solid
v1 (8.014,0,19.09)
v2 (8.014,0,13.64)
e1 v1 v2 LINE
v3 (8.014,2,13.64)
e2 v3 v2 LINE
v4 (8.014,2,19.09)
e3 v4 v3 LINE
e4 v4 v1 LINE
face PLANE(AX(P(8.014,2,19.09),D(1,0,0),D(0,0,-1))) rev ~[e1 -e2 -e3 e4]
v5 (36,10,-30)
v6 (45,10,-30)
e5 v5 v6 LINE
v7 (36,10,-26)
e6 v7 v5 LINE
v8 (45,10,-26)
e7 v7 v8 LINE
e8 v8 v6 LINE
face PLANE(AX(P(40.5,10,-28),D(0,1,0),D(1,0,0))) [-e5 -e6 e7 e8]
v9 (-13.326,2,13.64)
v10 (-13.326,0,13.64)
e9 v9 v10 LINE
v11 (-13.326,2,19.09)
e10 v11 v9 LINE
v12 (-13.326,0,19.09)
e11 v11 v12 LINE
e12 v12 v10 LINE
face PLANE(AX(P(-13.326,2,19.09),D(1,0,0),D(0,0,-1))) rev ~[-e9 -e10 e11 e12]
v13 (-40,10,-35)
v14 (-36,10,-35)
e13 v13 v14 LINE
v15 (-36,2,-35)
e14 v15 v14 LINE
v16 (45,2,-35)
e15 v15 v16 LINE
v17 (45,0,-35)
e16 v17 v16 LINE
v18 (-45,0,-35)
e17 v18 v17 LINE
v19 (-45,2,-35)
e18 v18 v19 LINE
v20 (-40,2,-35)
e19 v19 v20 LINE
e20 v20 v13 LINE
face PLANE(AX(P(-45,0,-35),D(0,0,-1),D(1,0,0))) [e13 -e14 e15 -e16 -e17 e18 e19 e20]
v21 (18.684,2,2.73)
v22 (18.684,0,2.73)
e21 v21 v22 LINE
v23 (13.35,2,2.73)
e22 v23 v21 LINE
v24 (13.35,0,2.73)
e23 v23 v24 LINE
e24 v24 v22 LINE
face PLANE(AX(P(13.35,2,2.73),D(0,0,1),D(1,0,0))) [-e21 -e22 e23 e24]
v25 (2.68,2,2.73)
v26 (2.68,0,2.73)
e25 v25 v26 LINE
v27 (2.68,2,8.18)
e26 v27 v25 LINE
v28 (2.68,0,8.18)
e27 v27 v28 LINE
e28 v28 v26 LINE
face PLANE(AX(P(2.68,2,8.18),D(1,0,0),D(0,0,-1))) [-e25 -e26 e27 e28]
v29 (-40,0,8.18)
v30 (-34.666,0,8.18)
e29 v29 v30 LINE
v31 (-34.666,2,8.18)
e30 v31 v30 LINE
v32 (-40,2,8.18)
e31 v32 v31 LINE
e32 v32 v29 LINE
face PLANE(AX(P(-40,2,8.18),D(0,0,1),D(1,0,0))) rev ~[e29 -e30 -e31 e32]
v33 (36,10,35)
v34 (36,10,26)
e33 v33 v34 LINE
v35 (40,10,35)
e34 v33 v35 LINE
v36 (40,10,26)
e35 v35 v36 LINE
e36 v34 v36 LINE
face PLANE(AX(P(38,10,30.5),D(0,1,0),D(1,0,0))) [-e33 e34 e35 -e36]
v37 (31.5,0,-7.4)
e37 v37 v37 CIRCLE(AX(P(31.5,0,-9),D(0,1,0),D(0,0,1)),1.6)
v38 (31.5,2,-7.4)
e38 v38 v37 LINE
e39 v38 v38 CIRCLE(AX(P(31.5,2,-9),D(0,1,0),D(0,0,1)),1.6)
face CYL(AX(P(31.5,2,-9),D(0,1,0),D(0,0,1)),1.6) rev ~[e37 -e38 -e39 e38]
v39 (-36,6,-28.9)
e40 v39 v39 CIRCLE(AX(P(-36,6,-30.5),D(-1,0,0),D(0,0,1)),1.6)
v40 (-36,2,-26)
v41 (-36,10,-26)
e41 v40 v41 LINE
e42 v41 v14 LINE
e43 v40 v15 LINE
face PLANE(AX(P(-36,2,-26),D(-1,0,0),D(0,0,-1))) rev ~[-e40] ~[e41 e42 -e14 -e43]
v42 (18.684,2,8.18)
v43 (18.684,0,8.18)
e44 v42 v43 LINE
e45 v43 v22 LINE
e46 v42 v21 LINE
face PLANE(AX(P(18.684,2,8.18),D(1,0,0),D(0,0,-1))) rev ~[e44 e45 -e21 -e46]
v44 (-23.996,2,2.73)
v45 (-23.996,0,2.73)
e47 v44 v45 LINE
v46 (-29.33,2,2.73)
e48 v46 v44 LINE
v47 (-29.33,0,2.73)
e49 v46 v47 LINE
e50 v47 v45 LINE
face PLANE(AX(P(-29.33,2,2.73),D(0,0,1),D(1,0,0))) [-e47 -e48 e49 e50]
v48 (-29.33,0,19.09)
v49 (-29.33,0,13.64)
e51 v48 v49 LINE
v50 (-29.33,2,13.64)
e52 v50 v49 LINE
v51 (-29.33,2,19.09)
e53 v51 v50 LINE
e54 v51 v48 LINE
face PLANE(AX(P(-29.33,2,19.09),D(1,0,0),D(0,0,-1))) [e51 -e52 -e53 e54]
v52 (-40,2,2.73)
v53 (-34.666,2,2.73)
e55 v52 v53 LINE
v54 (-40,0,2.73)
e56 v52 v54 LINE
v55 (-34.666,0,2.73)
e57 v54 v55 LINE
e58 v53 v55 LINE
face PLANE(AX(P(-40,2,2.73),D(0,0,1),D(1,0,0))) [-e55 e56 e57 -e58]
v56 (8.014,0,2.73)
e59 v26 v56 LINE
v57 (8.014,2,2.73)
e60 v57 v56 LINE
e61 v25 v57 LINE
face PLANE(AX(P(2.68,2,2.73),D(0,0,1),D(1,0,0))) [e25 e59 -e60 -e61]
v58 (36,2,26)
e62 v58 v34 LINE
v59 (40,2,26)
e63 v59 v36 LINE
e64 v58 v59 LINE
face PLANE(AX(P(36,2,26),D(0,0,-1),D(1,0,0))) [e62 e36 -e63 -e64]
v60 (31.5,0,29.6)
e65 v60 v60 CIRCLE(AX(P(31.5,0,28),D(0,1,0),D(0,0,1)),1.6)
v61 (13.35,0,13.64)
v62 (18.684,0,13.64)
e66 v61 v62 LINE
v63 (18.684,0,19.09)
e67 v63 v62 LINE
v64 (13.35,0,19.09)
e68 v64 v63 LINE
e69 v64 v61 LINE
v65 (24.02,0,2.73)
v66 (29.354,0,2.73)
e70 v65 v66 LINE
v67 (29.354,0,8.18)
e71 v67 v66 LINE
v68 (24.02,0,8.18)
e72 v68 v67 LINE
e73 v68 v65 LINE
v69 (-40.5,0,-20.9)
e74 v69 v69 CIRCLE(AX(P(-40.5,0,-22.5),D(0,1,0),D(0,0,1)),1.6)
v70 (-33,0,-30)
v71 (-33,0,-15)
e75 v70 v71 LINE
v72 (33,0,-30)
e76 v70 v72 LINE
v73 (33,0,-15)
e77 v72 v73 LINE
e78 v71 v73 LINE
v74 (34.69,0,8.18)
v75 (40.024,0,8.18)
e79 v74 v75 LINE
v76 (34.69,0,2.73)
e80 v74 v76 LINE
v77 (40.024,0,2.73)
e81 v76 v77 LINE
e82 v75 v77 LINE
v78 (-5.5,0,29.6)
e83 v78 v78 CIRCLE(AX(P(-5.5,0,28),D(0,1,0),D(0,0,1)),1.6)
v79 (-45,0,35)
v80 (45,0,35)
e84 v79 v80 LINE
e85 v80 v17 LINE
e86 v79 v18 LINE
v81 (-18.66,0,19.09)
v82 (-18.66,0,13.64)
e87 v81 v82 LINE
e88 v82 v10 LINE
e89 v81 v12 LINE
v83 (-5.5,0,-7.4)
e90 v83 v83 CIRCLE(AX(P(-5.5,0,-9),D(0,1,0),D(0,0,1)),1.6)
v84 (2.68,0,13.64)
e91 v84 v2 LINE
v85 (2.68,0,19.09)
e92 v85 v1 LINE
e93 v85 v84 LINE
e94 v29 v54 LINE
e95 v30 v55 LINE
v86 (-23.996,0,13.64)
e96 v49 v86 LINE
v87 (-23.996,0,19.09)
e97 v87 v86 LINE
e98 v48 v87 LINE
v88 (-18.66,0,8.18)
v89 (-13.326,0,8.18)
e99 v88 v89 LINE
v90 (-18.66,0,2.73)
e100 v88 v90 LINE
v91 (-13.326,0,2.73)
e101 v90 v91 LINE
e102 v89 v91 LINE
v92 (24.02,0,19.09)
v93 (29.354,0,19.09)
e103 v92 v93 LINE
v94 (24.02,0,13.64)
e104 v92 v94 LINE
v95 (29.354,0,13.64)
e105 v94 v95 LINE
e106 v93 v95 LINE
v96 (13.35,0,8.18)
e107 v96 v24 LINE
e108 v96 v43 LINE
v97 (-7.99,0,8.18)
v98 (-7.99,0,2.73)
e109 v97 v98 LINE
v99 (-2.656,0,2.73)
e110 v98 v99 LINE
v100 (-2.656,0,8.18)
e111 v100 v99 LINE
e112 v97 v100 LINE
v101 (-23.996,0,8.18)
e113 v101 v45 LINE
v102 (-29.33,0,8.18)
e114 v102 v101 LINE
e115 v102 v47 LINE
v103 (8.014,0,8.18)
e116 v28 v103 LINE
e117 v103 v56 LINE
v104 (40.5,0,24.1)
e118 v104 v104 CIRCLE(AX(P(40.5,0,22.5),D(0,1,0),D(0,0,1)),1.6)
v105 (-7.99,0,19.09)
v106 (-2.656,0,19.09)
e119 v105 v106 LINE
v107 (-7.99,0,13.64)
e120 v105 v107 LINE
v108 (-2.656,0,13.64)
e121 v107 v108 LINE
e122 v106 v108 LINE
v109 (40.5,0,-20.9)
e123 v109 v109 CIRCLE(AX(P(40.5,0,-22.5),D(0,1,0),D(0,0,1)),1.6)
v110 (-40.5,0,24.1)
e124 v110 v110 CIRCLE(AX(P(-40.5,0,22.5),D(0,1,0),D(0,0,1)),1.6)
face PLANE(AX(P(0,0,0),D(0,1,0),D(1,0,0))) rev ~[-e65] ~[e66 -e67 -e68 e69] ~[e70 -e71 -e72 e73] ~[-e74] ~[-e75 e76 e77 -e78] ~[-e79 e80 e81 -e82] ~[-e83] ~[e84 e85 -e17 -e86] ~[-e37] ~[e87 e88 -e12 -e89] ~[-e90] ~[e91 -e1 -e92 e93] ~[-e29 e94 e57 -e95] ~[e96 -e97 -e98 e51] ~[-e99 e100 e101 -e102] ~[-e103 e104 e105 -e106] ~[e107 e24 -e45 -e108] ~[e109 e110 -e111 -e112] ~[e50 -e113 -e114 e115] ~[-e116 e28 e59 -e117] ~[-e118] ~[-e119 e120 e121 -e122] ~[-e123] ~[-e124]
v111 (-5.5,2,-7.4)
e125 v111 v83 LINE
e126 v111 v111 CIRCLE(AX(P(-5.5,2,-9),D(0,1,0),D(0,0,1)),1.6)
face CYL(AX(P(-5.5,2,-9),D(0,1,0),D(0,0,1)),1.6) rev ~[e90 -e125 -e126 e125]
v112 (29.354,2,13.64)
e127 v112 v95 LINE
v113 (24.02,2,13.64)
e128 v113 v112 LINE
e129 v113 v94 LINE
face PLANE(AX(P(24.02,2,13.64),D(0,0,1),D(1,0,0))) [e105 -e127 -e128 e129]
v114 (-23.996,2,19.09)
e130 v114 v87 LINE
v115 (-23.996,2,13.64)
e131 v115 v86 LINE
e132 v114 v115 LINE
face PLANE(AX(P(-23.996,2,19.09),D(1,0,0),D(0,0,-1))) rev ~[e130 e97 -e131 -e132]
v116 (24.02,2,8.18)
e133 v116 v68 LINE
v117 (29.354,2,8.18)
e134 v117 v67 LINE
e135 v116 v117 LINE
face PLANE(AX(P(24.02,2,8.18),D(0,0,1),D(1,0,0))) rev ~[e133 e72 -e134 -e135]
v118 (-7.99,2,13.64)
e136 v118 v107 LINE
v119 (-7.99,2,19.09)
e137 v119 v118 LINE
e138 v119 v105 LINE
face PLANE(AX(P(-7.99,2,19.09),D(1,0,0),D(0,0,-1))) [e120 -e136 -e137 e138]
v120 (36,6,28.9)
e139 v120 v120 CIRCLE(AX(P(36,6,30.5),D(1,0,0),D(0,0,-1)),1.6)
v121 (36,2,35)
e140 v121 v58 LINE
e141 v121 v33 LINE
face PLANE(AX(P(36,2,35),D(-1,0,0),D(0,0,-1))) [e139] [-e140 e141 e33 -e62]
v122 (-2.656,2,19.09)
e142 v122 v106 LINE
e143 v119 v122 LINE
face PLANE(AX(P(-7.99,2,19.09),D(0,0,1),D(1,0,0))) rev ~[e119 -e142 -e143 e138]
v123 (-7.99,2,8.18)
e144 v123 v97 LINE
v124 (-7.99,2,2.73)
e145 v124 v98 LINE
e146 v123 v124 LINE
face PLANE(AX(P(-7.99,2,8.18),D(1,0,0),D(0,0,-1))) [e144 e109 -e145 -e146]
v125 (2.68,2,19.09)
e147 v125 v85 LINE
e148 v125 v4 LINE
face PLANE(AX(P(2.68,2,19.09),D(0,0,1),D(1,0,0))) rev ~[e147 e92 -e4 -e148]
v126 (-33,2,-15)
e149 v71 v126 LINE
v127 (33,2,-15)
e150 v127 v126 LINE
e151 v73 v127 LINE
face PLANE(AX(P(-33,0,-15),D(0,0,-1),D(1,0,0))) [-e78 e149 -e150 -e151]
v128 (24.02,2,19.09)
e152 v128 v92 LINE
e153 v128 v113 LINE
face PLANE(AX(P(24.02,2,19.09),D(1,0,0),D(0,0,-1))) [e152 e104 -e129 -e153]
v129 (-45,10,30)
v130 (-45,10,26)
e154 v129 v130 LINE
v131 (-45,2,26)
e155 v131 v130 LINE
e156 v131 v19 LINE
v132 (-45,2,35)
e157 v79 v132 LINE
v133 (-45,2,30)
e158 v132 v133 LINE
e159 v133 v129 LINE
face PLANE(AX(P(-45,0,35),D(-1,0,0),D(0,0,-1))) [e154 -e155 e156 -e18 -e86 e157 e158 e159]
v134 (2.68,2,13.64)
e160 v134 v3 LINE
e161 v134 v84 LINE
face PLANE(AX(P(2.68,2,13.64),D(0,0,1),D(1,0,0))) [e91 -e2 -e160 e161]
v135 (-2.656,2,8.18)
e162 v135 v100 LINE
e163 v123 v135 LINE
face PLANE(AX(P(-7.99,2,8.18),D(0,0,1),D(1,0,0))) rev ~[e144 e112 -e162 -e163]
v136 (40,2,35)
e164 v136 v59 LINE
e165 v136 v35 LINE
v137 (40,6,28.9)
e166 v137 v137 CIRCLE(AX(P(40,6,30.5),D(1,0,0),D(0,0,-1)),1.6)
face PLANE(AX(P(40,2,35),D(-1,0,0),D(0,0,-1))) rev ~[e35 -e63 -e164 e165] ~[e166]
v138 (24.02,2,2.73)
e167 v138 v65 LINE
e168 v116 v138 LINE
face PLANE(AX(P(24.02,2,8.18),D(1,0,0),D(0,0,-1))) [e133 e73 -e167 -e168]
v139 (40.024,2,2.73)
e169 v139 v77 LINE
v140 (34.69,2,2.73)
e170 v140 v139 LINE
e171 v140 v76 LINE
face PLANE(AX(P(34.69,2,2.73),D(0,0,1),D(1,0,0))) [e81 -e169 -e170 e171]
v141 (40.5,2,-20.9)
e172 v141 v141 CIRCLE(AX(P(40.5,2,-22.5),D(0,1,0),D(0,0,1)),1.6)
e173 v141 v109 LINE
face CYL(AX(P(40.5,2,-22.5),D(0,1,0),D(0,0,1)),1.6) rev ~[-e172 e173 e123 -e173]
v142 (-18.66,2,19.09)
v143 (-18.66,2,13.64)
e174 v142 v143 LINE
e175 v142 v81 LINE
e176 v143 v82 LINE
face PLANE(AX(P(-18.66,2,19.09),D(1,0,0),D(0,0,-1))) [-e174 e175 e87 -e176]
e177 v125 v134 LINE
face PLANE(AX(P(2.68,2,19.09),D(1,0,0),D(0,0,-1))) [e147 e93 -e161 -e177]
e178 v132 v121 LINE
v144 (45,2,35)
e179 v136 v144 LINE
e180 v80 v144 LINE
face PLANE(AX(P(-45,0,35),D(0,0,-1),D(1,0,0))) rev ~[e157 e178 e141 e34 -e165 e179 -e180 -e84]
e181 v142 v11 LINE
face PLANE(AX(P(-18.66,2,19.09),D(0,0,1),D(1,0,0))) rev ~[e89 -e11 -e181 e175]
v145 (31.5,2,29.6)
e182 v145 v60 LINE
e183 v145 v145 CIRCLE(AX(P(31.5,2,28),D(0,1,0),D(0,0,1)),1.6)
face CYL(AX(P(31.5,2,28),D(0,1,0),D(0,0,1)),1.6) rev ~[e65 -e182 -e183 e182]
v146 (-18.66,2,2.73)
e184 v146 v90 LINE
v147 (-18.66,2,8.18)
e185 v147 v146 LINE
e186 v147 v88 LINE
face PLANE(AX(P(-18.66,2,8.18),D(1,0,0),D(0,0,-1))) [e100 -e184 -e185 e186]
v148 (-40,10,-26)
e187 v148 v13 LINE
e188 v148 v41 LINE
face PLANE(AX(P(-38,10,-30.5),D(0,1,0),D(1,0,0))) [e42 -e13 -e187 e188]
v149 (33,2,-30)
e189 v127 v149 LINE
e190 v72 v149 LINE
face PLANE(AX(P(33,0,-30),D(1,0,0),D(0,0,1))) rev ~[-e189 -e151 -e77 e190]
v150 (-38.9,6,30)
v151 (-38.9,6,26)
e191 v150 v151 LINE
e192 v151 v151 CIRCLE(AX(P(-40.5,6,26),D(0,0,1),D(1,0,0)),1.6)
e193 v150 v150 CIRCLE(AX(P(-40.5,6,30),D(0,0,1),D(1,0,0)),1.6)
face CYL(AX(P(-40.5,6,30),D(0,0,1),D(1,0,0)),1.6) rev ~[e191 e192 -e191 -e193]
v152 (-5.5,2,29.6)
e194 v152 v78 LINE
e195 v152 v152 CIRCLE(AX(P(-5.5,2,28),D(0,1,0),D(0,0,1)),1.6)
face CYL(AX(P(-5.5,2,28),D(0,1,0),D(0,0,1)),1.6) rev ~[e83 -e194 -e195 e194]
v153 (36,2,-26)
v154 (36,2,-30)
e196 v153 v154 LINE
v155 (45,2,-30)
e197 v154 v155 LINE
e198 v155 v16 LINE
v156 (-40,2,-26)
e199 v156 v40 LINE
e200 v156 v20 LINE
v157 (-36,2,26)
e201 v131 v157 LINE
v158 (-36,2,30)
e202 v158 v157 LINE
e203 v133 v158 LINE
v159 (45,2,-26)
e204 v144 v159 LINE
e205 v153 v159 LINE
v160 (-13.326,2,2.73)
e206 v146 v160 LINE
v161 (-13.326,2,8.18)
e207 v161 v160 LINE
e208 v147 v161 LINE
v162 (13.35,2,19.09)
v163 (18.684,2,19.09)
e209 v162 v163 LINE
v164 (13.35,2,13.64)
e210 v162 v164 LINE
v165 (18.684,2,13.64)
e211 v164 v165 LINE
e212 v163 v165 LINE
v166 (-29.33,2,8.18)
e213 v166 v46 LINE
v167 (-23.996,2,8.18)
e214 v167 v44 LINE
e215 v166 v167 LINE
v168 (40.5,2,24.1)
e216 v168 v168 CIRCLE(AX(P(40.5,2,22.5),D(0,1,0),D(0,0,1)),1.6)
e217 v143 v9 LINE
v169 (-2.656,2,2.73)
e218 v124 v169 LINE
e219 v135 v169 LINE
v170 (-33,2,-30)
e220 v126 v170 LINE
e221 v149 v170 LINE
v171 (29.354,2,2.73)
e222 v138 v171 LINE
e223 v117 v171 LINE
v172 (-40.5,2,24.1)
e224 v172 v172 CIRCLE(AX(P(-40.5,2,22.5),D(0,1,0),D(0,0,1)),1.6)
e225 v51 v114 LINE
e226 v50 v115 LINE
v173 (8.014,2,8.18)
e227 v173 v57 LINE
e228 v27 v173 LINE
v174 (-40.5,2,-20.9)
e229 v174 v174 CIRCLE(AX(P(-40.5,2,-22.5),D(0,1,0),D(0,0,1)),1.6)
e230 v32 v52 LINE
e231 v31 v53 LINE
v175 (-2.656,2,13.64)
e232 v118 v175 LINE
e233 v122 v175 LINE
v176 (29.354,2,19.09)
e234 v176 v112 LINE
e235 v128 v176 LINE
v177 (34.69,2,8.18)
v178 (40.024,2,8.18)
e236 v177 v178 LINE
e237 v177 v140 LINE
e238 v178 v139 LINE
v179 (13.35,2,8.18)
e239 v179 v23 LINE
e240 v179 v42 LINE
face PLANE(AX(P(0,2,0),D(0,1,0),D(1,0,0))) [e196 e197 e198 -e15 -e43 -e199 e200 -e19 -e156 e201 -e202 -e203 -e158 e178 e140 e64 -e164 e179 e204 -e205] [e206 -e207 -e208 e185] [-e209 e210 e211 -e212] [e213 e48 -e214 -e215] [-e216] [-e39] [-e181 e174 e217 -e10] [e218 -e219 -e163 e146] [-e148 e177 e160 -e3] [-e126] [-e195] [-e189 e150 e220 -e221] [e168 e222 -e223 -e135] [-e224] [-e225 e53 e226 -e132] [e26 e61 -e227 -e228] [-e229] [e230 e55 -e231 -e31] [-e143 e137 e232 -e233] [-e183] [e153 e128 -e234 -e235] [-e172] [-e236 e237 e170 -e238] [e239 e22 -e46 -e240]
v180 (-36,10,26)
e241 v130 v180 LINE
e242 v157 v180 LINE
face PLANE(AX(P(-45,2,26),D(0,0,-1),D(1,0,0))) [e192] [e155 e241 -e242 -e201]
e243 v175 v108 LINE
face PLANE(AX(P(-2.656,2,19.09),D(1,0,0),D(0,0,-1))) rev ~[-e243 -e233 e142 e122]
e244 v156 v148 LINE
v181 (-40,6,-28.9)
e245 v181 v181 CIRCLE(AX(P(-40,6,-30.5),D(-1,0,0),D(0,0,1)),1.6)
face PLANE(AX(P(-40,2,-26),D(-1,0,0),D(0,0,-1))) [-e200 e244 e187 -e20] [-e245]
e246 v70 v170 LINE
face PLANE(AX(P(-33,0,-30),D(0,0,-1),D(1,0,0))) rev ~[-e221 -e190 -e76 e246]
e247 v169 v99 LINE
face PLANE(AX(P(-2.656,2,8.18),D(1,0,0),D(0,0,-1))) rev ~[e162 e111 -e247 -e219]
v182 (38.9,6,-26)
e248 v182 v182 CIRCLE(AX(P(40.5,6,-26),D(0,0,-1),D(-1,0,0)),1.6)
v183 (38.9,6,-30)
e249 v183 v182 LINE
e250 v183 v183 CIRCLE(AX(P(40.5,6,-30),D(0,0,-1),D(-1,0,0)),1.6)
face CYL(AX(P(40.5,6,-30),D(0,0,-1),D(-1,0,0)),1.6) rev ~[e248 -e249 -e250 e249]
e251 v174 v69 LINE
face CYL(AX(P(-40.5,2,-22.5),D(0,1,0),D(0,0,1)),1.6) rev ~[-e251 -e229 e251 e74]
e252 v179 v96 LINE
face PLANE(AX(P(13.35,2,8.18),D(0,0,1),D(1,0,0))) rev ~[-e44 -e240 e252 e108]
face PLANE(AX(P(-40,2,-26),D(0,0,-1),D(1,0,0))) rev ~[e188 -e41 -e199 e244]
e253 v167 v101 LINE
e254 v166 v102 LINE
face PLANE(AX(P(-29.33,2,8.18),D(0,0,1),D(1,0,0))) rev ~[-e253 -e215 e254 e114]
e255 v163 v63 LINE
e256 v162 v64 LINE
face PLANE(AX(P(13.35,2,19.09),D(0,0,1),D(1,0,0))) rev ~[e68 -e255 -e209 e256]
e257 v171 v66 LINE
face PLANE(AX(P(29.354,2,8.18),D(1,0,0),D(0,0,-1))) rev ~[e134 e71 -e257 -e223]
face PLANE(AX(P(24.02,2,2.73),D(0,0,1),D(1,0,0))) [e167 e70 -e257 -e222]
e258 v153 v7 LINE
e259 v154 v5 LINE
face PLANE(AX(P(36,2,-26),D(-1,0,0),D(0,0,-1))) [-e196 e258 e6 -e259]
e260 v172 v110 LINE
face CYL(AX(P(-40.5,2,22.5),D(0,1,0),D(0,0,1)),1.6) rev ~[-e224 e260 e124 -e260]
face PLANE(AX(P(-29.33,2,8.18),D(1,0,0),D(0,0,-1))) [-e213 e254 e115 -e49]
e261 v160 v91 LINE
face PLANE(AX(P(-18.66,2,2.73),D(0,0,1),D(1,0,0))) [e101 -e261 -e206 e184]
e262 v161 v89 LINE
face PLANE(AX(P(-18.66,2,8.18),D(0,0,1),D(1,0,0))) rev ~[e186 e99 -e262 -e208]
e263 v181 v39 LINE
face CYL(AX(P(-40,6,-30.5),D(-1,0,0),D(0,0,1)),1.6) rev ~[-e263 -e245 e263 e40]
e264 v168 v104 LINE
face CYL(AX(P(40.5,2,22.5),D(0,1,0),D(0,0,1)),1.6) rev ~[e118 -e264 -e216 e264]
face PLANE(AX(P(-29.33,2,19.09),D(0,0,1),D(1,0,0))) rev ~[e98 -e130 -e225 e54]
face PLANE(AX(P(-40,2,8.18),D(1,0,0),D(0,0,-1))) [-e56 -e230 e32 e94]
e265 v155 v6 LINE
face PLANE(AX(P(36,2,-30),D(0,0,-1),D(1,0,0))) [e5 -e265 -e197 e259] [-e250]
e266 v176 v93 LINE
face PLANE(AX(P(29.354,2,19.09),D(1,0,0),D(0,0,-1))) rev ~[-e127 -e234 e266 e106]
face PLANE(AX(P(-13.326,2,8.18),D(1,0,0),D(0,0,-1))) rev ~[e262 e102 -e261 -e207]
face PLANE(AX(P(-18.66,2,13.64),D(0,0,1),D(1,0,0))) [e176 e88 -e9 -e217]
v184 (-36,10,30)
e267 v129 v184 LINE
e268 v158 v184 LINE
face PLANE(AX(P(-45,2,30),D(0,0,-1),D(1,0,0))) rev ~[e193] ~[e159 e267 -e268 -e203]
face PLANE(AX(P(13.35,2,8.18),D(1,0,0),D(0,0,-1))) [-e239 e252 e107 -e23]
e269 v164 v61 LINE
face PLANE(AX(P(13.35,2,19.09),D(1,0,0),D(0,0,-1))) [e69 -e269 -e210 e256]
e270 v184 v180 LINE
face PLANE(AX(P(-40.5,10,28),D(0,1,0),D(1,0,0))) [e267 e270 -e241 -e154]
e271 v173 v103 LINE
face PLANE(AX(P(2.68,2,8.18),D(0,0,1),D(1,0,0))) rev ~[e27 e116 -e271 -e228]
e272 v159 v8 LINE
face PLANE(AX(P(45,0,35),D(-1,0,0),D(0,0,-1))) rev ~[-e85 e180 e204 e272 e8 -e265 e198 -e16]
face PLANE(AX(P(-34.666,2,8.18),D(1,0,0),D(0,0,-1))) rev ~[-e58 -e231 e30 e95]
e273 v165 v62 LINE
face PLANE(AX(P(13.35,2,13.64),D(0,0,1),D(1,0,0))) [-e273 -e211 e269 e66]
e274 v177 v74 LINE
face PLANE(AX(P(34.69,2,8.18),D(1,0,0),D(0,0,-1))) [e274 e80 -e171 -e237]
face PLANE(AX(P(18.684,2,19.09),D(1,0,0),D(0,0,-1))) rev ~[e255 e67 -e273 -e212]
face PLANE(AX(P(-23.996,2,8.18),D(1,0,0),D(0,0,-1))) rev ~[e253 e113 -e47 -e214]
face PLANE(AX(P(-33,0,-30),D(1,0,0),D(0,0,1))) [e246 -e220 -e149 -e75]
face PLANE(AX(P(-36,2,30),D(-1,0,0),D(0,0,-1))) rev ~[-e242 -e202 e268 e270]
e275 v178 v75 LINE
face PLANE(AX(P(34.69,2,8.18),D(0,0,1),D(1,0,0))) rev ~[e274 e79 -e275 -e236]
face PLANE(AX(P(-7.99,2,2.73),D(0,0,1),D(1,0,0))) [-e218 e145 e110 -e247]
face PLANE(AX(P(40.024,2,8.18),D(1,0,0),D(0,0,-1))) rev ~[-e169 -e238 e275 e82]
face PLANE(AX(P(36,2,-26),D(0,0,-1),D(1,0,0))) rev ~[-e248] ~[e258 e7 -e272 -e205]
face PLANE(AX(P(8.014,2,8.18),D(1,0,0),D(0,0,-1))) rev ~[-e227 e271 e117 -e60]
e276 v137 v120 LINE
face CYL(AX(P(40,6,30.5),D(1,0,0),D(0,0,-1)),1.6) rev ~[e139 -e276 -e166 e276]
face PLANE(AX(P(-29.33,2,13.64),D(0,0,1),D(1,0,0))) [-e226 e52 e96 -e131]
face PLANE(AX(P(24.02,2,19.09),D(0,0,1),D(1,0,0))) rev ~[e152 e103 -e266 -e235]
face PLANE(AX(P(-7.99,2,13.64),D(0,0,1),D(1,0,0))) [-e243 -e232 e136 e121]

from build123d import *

# Parameters (mm, degrees)
ESBO_O1_W                = 90
ESBO_O1_H                = 70
RESSALTO_EXTRUS_O1_DEPTH = 2
ESBO_O3_W                = 4
ESBO_O3_H                = 9
ESBO_O3_W_2              = 9
ESBO_O3_H_2              = 4
RESSALTO_EXTRUS_O4_DEPTH = 8
ESBO_O6_W                = 66
ESBO_O6_H                = 15
CORTE_EXTRUS_O4_DEPTH    = 3
ESBO_O7_R                = 1.6
CORTE_EXTRUS_O7_DEPTH    = 3
ESBO_O8_R                = 1.6
CORTE_EXTRUS_O8_DEPTH    = 5
ESBO_O9_R                = 1.6
CORTE_EXTRUS_O9_DEPTH    = 5
ESBO_O10_R               = 1.6
CORTE_EXTRUS_O10_DEPTH   = 5
ESBO_O11_R               = 1.6
CORTE_EXTRUS_O11_DEPTH   = 5
ESBO_O12_R               = 1.6
CORTE_EXTRUS_O12_DEPTH   = 58.567351858
ESBO_O2_W                = 5.334
ESBO_O2_H                = 5.45
CORTE_EXTRUS_O13_DEPTH   = 58.567351858


with BuildPart() as part:
    # Esboço1 → Ressalto-extrusão1 (new body)
    with BuildSketch(Plane(origin=(0, 0, 0), x_dir=(1, 0, 0), z_dir=(0, 1, 0))):
        Rectangle(ESBO_O1_W, ESBO_O1_H)
    extrude(amount=RESSALTO_EXTRUS_O1_DEPTH)

    # Esboço3 → Ressalto-extrusão4 (add)
    with BuildSketch(Plane(origin=(0, 2, 0), x_dir=(1, 0, 0), z_dir=(0, 1, 0))):
        with Locations((-38, 30.5)):
            Rectangle(ESBO_O3_W, ESBO_O3_H)
        with Locations((40.5, 28)):
            Rectangle(ESBO_O3_W_2, ESBO_O3_H_2)
        with Locations((38, -30.5)):
            Rectangle(ESBO_O3_W, ESBO_O3_H)
        with Locations((-40.5, -28)):
            Rectangle(ESBO_O3_W_2, ESBO_O3_H_2)
    extrude(amount=RESSALTO_EXTRUS_O4_DEPTH)

    # Esboço6 → Corte-extrusão4 (cut)
    with BuildSketch(Plane.XZ):
        with Locations((0, -22.5)):
            Rectangle(ESBO_O6_W, ESBO_O6_H)
    extrude(amount=-CORTE_EXTRUS_O4_DEPTH, mode=Mode.SUBTRACT)

    # Esboço7 → Corte-extrusão7 (cut)
    with BuildSketch(Plane(origin=(0, 2, 0), x_dir=(1, 0, 0), z_dir=(0, 1, 0))):
        with Locations(Location((31.5, 9, 0), (0, 0, 270))):
            Circle(ESBO_O7_R)
        with Locations(Location((-5.5, 9, 0), (0, 0, 270))):
            Circle(ESBO_O7_R)
        with Locations(Location((-5.5, -28, 0), (0, 0, 270))):
            Circle(ESBO_O7_R)
        with Locations(Location((31.5, -28, 0), (0, 0, 270))):
            Circle(ESBO_O7_R)
    extrude(amount=-CORTE_EXTRUS_O7_DEPTH, mode=Mode.SUBTRACT)

    # Esboço8 → Corte-extrusão8 (cut)
    with BuildSketch(Plane(origin=(0, 0, -30), x_dir=(-1, 0, 0), z_dir=(0, 0, -1))):
        with Locations((-40.5, 6)):
            Circle(ESBO_O8_R)
    extrude(amount=-CORTE_EXTRUS_O8_DEPTH, mode=Mode.SUBTRACT)

    # Esboço9 → Corte-extrusão9 (cut)
    with BuildSketch(Plane.ZY.offset(40)):
        with Locations((-30.5, 6)):
            Circle(ESBO_O9_R)
    extrude(amount=-CORTE_EXTRUS_O9_DEPTH, mode=Mode.SUBTRACT)

    # Esboço10 → Corte-extrusão10 (cut)
    with BuildSketch(Plane.XY.offset(30)):
        with Locations((-40.5, 6)):
            Circle(ESBO_O10_R)
    extrude(amount=-CORTE_EXTRUS_O10_DEPTH, mode=Mode.SUBTRACT)

    # Esboço11 → Corte-extrusão11 (cut)
    with BuildSketch(Plane(origin=(40, 0, 0), x_dir=(0, 0, -1), z_dir=(1, 0, 0))):
        with Locations((-30.5, 6)):
            Circle(ESBO_O11_R)
    extrude(amount=-CORTE_EXTRUS_O11_DEPTH, mode=Mode.SUBTRACT)

    # Esboço12 → Corte-extrusão12 (cut, through all)
    with BuildSketch(Plane(origin=(0, 2, 0), x_dir=(1, 0, 0), z_dir=(0, 1, 0))):
        with Locations(Location((-40.5, 22.5, 0), (0, 0, 270))):
            Circle(ESBO_O12_R)
        with Locations(Location((-40.5, -22.5, 0), (0, 0, 270))):
            Circle(ESBO_O12_R)
        with Locations(Location((40.5, -22.5, 0), (0, 0, 270))):
            Circle(ESBO_O12_R)
        with Locations(Location((40.5, 22.5, 0), (0, 0, 270))):
            Circle(ESBO_O12_R)
    extrude(amount=-CORTE_EXTRUS_O12_DEPTH, mode=Mode.SUBTRACT)

    # Esboço2 → Corte-extrusão13 (cut, through all)
    with BuildSketch(Plane(origin=(0, 2, 0), x_dir=(1, 0, 0), z_dir=(0, 1, 0))):
        with Locations((-26.663, -5.455)):
            Rectangle(ESBO_O2_W, ESBO_O2_H)
        with Locations((-15.993, -5.455)):
            Rectangle(ESBO_O2_W, ESBO_O2_H)
        with Locations((-5.323, -5.455)):
            Rectangle(ESBO_O2_W, ESBO_O2_H)
        with Locations((5.347, -5.455)):
            Rectangle(ESBO_O2_W, ESBO_O2_H)
        with Locations((16.017, -5.455)):
            Rectangle(ESBO_O2_W, ESBO_O2_H)
        with Locations((26.687, -5.455)):
            Rectangle(ESBO_O2_W, ESBO_O2_H)
        with Locations((37.357, -5.455)):
            Rectangle(ESBO_O2_W, ESBO_O2_H)
        with Locations((-26.663, -16.365)):
            Rectangle(ESBO_O2_W, ESBO_O2_H)
        with Locations((-15.993, -16.365)):
            Rectangle(ESBO_O2_W, ESBO_O2_H)
        with Locations((-5.323, -16.365)):
            Rectangle(ESBO_O2_W, ESBO_O2_H)
        with Locations((5.347, -16.365)):
            Rectangle(ESBO_O2_W, ESBO_O2_H)
        with Locations((16.017, -16.365)):
            Rectangle(ESBO_O2_W, ESBO_O2_H)
        with Locations((26.687, -16.365)):
            Rectangle(ESBO_O2_W, ESBO_O2_H)
        with Locations((-37.333, -5.455)):
            Rectangle(ESBO_O2_W, ESBO_O2_H)
    extrude(amount=-CORTE_EXTRUS_O13_DEPTH, mode=Mode.SUBTRACT)


solid = part.part
